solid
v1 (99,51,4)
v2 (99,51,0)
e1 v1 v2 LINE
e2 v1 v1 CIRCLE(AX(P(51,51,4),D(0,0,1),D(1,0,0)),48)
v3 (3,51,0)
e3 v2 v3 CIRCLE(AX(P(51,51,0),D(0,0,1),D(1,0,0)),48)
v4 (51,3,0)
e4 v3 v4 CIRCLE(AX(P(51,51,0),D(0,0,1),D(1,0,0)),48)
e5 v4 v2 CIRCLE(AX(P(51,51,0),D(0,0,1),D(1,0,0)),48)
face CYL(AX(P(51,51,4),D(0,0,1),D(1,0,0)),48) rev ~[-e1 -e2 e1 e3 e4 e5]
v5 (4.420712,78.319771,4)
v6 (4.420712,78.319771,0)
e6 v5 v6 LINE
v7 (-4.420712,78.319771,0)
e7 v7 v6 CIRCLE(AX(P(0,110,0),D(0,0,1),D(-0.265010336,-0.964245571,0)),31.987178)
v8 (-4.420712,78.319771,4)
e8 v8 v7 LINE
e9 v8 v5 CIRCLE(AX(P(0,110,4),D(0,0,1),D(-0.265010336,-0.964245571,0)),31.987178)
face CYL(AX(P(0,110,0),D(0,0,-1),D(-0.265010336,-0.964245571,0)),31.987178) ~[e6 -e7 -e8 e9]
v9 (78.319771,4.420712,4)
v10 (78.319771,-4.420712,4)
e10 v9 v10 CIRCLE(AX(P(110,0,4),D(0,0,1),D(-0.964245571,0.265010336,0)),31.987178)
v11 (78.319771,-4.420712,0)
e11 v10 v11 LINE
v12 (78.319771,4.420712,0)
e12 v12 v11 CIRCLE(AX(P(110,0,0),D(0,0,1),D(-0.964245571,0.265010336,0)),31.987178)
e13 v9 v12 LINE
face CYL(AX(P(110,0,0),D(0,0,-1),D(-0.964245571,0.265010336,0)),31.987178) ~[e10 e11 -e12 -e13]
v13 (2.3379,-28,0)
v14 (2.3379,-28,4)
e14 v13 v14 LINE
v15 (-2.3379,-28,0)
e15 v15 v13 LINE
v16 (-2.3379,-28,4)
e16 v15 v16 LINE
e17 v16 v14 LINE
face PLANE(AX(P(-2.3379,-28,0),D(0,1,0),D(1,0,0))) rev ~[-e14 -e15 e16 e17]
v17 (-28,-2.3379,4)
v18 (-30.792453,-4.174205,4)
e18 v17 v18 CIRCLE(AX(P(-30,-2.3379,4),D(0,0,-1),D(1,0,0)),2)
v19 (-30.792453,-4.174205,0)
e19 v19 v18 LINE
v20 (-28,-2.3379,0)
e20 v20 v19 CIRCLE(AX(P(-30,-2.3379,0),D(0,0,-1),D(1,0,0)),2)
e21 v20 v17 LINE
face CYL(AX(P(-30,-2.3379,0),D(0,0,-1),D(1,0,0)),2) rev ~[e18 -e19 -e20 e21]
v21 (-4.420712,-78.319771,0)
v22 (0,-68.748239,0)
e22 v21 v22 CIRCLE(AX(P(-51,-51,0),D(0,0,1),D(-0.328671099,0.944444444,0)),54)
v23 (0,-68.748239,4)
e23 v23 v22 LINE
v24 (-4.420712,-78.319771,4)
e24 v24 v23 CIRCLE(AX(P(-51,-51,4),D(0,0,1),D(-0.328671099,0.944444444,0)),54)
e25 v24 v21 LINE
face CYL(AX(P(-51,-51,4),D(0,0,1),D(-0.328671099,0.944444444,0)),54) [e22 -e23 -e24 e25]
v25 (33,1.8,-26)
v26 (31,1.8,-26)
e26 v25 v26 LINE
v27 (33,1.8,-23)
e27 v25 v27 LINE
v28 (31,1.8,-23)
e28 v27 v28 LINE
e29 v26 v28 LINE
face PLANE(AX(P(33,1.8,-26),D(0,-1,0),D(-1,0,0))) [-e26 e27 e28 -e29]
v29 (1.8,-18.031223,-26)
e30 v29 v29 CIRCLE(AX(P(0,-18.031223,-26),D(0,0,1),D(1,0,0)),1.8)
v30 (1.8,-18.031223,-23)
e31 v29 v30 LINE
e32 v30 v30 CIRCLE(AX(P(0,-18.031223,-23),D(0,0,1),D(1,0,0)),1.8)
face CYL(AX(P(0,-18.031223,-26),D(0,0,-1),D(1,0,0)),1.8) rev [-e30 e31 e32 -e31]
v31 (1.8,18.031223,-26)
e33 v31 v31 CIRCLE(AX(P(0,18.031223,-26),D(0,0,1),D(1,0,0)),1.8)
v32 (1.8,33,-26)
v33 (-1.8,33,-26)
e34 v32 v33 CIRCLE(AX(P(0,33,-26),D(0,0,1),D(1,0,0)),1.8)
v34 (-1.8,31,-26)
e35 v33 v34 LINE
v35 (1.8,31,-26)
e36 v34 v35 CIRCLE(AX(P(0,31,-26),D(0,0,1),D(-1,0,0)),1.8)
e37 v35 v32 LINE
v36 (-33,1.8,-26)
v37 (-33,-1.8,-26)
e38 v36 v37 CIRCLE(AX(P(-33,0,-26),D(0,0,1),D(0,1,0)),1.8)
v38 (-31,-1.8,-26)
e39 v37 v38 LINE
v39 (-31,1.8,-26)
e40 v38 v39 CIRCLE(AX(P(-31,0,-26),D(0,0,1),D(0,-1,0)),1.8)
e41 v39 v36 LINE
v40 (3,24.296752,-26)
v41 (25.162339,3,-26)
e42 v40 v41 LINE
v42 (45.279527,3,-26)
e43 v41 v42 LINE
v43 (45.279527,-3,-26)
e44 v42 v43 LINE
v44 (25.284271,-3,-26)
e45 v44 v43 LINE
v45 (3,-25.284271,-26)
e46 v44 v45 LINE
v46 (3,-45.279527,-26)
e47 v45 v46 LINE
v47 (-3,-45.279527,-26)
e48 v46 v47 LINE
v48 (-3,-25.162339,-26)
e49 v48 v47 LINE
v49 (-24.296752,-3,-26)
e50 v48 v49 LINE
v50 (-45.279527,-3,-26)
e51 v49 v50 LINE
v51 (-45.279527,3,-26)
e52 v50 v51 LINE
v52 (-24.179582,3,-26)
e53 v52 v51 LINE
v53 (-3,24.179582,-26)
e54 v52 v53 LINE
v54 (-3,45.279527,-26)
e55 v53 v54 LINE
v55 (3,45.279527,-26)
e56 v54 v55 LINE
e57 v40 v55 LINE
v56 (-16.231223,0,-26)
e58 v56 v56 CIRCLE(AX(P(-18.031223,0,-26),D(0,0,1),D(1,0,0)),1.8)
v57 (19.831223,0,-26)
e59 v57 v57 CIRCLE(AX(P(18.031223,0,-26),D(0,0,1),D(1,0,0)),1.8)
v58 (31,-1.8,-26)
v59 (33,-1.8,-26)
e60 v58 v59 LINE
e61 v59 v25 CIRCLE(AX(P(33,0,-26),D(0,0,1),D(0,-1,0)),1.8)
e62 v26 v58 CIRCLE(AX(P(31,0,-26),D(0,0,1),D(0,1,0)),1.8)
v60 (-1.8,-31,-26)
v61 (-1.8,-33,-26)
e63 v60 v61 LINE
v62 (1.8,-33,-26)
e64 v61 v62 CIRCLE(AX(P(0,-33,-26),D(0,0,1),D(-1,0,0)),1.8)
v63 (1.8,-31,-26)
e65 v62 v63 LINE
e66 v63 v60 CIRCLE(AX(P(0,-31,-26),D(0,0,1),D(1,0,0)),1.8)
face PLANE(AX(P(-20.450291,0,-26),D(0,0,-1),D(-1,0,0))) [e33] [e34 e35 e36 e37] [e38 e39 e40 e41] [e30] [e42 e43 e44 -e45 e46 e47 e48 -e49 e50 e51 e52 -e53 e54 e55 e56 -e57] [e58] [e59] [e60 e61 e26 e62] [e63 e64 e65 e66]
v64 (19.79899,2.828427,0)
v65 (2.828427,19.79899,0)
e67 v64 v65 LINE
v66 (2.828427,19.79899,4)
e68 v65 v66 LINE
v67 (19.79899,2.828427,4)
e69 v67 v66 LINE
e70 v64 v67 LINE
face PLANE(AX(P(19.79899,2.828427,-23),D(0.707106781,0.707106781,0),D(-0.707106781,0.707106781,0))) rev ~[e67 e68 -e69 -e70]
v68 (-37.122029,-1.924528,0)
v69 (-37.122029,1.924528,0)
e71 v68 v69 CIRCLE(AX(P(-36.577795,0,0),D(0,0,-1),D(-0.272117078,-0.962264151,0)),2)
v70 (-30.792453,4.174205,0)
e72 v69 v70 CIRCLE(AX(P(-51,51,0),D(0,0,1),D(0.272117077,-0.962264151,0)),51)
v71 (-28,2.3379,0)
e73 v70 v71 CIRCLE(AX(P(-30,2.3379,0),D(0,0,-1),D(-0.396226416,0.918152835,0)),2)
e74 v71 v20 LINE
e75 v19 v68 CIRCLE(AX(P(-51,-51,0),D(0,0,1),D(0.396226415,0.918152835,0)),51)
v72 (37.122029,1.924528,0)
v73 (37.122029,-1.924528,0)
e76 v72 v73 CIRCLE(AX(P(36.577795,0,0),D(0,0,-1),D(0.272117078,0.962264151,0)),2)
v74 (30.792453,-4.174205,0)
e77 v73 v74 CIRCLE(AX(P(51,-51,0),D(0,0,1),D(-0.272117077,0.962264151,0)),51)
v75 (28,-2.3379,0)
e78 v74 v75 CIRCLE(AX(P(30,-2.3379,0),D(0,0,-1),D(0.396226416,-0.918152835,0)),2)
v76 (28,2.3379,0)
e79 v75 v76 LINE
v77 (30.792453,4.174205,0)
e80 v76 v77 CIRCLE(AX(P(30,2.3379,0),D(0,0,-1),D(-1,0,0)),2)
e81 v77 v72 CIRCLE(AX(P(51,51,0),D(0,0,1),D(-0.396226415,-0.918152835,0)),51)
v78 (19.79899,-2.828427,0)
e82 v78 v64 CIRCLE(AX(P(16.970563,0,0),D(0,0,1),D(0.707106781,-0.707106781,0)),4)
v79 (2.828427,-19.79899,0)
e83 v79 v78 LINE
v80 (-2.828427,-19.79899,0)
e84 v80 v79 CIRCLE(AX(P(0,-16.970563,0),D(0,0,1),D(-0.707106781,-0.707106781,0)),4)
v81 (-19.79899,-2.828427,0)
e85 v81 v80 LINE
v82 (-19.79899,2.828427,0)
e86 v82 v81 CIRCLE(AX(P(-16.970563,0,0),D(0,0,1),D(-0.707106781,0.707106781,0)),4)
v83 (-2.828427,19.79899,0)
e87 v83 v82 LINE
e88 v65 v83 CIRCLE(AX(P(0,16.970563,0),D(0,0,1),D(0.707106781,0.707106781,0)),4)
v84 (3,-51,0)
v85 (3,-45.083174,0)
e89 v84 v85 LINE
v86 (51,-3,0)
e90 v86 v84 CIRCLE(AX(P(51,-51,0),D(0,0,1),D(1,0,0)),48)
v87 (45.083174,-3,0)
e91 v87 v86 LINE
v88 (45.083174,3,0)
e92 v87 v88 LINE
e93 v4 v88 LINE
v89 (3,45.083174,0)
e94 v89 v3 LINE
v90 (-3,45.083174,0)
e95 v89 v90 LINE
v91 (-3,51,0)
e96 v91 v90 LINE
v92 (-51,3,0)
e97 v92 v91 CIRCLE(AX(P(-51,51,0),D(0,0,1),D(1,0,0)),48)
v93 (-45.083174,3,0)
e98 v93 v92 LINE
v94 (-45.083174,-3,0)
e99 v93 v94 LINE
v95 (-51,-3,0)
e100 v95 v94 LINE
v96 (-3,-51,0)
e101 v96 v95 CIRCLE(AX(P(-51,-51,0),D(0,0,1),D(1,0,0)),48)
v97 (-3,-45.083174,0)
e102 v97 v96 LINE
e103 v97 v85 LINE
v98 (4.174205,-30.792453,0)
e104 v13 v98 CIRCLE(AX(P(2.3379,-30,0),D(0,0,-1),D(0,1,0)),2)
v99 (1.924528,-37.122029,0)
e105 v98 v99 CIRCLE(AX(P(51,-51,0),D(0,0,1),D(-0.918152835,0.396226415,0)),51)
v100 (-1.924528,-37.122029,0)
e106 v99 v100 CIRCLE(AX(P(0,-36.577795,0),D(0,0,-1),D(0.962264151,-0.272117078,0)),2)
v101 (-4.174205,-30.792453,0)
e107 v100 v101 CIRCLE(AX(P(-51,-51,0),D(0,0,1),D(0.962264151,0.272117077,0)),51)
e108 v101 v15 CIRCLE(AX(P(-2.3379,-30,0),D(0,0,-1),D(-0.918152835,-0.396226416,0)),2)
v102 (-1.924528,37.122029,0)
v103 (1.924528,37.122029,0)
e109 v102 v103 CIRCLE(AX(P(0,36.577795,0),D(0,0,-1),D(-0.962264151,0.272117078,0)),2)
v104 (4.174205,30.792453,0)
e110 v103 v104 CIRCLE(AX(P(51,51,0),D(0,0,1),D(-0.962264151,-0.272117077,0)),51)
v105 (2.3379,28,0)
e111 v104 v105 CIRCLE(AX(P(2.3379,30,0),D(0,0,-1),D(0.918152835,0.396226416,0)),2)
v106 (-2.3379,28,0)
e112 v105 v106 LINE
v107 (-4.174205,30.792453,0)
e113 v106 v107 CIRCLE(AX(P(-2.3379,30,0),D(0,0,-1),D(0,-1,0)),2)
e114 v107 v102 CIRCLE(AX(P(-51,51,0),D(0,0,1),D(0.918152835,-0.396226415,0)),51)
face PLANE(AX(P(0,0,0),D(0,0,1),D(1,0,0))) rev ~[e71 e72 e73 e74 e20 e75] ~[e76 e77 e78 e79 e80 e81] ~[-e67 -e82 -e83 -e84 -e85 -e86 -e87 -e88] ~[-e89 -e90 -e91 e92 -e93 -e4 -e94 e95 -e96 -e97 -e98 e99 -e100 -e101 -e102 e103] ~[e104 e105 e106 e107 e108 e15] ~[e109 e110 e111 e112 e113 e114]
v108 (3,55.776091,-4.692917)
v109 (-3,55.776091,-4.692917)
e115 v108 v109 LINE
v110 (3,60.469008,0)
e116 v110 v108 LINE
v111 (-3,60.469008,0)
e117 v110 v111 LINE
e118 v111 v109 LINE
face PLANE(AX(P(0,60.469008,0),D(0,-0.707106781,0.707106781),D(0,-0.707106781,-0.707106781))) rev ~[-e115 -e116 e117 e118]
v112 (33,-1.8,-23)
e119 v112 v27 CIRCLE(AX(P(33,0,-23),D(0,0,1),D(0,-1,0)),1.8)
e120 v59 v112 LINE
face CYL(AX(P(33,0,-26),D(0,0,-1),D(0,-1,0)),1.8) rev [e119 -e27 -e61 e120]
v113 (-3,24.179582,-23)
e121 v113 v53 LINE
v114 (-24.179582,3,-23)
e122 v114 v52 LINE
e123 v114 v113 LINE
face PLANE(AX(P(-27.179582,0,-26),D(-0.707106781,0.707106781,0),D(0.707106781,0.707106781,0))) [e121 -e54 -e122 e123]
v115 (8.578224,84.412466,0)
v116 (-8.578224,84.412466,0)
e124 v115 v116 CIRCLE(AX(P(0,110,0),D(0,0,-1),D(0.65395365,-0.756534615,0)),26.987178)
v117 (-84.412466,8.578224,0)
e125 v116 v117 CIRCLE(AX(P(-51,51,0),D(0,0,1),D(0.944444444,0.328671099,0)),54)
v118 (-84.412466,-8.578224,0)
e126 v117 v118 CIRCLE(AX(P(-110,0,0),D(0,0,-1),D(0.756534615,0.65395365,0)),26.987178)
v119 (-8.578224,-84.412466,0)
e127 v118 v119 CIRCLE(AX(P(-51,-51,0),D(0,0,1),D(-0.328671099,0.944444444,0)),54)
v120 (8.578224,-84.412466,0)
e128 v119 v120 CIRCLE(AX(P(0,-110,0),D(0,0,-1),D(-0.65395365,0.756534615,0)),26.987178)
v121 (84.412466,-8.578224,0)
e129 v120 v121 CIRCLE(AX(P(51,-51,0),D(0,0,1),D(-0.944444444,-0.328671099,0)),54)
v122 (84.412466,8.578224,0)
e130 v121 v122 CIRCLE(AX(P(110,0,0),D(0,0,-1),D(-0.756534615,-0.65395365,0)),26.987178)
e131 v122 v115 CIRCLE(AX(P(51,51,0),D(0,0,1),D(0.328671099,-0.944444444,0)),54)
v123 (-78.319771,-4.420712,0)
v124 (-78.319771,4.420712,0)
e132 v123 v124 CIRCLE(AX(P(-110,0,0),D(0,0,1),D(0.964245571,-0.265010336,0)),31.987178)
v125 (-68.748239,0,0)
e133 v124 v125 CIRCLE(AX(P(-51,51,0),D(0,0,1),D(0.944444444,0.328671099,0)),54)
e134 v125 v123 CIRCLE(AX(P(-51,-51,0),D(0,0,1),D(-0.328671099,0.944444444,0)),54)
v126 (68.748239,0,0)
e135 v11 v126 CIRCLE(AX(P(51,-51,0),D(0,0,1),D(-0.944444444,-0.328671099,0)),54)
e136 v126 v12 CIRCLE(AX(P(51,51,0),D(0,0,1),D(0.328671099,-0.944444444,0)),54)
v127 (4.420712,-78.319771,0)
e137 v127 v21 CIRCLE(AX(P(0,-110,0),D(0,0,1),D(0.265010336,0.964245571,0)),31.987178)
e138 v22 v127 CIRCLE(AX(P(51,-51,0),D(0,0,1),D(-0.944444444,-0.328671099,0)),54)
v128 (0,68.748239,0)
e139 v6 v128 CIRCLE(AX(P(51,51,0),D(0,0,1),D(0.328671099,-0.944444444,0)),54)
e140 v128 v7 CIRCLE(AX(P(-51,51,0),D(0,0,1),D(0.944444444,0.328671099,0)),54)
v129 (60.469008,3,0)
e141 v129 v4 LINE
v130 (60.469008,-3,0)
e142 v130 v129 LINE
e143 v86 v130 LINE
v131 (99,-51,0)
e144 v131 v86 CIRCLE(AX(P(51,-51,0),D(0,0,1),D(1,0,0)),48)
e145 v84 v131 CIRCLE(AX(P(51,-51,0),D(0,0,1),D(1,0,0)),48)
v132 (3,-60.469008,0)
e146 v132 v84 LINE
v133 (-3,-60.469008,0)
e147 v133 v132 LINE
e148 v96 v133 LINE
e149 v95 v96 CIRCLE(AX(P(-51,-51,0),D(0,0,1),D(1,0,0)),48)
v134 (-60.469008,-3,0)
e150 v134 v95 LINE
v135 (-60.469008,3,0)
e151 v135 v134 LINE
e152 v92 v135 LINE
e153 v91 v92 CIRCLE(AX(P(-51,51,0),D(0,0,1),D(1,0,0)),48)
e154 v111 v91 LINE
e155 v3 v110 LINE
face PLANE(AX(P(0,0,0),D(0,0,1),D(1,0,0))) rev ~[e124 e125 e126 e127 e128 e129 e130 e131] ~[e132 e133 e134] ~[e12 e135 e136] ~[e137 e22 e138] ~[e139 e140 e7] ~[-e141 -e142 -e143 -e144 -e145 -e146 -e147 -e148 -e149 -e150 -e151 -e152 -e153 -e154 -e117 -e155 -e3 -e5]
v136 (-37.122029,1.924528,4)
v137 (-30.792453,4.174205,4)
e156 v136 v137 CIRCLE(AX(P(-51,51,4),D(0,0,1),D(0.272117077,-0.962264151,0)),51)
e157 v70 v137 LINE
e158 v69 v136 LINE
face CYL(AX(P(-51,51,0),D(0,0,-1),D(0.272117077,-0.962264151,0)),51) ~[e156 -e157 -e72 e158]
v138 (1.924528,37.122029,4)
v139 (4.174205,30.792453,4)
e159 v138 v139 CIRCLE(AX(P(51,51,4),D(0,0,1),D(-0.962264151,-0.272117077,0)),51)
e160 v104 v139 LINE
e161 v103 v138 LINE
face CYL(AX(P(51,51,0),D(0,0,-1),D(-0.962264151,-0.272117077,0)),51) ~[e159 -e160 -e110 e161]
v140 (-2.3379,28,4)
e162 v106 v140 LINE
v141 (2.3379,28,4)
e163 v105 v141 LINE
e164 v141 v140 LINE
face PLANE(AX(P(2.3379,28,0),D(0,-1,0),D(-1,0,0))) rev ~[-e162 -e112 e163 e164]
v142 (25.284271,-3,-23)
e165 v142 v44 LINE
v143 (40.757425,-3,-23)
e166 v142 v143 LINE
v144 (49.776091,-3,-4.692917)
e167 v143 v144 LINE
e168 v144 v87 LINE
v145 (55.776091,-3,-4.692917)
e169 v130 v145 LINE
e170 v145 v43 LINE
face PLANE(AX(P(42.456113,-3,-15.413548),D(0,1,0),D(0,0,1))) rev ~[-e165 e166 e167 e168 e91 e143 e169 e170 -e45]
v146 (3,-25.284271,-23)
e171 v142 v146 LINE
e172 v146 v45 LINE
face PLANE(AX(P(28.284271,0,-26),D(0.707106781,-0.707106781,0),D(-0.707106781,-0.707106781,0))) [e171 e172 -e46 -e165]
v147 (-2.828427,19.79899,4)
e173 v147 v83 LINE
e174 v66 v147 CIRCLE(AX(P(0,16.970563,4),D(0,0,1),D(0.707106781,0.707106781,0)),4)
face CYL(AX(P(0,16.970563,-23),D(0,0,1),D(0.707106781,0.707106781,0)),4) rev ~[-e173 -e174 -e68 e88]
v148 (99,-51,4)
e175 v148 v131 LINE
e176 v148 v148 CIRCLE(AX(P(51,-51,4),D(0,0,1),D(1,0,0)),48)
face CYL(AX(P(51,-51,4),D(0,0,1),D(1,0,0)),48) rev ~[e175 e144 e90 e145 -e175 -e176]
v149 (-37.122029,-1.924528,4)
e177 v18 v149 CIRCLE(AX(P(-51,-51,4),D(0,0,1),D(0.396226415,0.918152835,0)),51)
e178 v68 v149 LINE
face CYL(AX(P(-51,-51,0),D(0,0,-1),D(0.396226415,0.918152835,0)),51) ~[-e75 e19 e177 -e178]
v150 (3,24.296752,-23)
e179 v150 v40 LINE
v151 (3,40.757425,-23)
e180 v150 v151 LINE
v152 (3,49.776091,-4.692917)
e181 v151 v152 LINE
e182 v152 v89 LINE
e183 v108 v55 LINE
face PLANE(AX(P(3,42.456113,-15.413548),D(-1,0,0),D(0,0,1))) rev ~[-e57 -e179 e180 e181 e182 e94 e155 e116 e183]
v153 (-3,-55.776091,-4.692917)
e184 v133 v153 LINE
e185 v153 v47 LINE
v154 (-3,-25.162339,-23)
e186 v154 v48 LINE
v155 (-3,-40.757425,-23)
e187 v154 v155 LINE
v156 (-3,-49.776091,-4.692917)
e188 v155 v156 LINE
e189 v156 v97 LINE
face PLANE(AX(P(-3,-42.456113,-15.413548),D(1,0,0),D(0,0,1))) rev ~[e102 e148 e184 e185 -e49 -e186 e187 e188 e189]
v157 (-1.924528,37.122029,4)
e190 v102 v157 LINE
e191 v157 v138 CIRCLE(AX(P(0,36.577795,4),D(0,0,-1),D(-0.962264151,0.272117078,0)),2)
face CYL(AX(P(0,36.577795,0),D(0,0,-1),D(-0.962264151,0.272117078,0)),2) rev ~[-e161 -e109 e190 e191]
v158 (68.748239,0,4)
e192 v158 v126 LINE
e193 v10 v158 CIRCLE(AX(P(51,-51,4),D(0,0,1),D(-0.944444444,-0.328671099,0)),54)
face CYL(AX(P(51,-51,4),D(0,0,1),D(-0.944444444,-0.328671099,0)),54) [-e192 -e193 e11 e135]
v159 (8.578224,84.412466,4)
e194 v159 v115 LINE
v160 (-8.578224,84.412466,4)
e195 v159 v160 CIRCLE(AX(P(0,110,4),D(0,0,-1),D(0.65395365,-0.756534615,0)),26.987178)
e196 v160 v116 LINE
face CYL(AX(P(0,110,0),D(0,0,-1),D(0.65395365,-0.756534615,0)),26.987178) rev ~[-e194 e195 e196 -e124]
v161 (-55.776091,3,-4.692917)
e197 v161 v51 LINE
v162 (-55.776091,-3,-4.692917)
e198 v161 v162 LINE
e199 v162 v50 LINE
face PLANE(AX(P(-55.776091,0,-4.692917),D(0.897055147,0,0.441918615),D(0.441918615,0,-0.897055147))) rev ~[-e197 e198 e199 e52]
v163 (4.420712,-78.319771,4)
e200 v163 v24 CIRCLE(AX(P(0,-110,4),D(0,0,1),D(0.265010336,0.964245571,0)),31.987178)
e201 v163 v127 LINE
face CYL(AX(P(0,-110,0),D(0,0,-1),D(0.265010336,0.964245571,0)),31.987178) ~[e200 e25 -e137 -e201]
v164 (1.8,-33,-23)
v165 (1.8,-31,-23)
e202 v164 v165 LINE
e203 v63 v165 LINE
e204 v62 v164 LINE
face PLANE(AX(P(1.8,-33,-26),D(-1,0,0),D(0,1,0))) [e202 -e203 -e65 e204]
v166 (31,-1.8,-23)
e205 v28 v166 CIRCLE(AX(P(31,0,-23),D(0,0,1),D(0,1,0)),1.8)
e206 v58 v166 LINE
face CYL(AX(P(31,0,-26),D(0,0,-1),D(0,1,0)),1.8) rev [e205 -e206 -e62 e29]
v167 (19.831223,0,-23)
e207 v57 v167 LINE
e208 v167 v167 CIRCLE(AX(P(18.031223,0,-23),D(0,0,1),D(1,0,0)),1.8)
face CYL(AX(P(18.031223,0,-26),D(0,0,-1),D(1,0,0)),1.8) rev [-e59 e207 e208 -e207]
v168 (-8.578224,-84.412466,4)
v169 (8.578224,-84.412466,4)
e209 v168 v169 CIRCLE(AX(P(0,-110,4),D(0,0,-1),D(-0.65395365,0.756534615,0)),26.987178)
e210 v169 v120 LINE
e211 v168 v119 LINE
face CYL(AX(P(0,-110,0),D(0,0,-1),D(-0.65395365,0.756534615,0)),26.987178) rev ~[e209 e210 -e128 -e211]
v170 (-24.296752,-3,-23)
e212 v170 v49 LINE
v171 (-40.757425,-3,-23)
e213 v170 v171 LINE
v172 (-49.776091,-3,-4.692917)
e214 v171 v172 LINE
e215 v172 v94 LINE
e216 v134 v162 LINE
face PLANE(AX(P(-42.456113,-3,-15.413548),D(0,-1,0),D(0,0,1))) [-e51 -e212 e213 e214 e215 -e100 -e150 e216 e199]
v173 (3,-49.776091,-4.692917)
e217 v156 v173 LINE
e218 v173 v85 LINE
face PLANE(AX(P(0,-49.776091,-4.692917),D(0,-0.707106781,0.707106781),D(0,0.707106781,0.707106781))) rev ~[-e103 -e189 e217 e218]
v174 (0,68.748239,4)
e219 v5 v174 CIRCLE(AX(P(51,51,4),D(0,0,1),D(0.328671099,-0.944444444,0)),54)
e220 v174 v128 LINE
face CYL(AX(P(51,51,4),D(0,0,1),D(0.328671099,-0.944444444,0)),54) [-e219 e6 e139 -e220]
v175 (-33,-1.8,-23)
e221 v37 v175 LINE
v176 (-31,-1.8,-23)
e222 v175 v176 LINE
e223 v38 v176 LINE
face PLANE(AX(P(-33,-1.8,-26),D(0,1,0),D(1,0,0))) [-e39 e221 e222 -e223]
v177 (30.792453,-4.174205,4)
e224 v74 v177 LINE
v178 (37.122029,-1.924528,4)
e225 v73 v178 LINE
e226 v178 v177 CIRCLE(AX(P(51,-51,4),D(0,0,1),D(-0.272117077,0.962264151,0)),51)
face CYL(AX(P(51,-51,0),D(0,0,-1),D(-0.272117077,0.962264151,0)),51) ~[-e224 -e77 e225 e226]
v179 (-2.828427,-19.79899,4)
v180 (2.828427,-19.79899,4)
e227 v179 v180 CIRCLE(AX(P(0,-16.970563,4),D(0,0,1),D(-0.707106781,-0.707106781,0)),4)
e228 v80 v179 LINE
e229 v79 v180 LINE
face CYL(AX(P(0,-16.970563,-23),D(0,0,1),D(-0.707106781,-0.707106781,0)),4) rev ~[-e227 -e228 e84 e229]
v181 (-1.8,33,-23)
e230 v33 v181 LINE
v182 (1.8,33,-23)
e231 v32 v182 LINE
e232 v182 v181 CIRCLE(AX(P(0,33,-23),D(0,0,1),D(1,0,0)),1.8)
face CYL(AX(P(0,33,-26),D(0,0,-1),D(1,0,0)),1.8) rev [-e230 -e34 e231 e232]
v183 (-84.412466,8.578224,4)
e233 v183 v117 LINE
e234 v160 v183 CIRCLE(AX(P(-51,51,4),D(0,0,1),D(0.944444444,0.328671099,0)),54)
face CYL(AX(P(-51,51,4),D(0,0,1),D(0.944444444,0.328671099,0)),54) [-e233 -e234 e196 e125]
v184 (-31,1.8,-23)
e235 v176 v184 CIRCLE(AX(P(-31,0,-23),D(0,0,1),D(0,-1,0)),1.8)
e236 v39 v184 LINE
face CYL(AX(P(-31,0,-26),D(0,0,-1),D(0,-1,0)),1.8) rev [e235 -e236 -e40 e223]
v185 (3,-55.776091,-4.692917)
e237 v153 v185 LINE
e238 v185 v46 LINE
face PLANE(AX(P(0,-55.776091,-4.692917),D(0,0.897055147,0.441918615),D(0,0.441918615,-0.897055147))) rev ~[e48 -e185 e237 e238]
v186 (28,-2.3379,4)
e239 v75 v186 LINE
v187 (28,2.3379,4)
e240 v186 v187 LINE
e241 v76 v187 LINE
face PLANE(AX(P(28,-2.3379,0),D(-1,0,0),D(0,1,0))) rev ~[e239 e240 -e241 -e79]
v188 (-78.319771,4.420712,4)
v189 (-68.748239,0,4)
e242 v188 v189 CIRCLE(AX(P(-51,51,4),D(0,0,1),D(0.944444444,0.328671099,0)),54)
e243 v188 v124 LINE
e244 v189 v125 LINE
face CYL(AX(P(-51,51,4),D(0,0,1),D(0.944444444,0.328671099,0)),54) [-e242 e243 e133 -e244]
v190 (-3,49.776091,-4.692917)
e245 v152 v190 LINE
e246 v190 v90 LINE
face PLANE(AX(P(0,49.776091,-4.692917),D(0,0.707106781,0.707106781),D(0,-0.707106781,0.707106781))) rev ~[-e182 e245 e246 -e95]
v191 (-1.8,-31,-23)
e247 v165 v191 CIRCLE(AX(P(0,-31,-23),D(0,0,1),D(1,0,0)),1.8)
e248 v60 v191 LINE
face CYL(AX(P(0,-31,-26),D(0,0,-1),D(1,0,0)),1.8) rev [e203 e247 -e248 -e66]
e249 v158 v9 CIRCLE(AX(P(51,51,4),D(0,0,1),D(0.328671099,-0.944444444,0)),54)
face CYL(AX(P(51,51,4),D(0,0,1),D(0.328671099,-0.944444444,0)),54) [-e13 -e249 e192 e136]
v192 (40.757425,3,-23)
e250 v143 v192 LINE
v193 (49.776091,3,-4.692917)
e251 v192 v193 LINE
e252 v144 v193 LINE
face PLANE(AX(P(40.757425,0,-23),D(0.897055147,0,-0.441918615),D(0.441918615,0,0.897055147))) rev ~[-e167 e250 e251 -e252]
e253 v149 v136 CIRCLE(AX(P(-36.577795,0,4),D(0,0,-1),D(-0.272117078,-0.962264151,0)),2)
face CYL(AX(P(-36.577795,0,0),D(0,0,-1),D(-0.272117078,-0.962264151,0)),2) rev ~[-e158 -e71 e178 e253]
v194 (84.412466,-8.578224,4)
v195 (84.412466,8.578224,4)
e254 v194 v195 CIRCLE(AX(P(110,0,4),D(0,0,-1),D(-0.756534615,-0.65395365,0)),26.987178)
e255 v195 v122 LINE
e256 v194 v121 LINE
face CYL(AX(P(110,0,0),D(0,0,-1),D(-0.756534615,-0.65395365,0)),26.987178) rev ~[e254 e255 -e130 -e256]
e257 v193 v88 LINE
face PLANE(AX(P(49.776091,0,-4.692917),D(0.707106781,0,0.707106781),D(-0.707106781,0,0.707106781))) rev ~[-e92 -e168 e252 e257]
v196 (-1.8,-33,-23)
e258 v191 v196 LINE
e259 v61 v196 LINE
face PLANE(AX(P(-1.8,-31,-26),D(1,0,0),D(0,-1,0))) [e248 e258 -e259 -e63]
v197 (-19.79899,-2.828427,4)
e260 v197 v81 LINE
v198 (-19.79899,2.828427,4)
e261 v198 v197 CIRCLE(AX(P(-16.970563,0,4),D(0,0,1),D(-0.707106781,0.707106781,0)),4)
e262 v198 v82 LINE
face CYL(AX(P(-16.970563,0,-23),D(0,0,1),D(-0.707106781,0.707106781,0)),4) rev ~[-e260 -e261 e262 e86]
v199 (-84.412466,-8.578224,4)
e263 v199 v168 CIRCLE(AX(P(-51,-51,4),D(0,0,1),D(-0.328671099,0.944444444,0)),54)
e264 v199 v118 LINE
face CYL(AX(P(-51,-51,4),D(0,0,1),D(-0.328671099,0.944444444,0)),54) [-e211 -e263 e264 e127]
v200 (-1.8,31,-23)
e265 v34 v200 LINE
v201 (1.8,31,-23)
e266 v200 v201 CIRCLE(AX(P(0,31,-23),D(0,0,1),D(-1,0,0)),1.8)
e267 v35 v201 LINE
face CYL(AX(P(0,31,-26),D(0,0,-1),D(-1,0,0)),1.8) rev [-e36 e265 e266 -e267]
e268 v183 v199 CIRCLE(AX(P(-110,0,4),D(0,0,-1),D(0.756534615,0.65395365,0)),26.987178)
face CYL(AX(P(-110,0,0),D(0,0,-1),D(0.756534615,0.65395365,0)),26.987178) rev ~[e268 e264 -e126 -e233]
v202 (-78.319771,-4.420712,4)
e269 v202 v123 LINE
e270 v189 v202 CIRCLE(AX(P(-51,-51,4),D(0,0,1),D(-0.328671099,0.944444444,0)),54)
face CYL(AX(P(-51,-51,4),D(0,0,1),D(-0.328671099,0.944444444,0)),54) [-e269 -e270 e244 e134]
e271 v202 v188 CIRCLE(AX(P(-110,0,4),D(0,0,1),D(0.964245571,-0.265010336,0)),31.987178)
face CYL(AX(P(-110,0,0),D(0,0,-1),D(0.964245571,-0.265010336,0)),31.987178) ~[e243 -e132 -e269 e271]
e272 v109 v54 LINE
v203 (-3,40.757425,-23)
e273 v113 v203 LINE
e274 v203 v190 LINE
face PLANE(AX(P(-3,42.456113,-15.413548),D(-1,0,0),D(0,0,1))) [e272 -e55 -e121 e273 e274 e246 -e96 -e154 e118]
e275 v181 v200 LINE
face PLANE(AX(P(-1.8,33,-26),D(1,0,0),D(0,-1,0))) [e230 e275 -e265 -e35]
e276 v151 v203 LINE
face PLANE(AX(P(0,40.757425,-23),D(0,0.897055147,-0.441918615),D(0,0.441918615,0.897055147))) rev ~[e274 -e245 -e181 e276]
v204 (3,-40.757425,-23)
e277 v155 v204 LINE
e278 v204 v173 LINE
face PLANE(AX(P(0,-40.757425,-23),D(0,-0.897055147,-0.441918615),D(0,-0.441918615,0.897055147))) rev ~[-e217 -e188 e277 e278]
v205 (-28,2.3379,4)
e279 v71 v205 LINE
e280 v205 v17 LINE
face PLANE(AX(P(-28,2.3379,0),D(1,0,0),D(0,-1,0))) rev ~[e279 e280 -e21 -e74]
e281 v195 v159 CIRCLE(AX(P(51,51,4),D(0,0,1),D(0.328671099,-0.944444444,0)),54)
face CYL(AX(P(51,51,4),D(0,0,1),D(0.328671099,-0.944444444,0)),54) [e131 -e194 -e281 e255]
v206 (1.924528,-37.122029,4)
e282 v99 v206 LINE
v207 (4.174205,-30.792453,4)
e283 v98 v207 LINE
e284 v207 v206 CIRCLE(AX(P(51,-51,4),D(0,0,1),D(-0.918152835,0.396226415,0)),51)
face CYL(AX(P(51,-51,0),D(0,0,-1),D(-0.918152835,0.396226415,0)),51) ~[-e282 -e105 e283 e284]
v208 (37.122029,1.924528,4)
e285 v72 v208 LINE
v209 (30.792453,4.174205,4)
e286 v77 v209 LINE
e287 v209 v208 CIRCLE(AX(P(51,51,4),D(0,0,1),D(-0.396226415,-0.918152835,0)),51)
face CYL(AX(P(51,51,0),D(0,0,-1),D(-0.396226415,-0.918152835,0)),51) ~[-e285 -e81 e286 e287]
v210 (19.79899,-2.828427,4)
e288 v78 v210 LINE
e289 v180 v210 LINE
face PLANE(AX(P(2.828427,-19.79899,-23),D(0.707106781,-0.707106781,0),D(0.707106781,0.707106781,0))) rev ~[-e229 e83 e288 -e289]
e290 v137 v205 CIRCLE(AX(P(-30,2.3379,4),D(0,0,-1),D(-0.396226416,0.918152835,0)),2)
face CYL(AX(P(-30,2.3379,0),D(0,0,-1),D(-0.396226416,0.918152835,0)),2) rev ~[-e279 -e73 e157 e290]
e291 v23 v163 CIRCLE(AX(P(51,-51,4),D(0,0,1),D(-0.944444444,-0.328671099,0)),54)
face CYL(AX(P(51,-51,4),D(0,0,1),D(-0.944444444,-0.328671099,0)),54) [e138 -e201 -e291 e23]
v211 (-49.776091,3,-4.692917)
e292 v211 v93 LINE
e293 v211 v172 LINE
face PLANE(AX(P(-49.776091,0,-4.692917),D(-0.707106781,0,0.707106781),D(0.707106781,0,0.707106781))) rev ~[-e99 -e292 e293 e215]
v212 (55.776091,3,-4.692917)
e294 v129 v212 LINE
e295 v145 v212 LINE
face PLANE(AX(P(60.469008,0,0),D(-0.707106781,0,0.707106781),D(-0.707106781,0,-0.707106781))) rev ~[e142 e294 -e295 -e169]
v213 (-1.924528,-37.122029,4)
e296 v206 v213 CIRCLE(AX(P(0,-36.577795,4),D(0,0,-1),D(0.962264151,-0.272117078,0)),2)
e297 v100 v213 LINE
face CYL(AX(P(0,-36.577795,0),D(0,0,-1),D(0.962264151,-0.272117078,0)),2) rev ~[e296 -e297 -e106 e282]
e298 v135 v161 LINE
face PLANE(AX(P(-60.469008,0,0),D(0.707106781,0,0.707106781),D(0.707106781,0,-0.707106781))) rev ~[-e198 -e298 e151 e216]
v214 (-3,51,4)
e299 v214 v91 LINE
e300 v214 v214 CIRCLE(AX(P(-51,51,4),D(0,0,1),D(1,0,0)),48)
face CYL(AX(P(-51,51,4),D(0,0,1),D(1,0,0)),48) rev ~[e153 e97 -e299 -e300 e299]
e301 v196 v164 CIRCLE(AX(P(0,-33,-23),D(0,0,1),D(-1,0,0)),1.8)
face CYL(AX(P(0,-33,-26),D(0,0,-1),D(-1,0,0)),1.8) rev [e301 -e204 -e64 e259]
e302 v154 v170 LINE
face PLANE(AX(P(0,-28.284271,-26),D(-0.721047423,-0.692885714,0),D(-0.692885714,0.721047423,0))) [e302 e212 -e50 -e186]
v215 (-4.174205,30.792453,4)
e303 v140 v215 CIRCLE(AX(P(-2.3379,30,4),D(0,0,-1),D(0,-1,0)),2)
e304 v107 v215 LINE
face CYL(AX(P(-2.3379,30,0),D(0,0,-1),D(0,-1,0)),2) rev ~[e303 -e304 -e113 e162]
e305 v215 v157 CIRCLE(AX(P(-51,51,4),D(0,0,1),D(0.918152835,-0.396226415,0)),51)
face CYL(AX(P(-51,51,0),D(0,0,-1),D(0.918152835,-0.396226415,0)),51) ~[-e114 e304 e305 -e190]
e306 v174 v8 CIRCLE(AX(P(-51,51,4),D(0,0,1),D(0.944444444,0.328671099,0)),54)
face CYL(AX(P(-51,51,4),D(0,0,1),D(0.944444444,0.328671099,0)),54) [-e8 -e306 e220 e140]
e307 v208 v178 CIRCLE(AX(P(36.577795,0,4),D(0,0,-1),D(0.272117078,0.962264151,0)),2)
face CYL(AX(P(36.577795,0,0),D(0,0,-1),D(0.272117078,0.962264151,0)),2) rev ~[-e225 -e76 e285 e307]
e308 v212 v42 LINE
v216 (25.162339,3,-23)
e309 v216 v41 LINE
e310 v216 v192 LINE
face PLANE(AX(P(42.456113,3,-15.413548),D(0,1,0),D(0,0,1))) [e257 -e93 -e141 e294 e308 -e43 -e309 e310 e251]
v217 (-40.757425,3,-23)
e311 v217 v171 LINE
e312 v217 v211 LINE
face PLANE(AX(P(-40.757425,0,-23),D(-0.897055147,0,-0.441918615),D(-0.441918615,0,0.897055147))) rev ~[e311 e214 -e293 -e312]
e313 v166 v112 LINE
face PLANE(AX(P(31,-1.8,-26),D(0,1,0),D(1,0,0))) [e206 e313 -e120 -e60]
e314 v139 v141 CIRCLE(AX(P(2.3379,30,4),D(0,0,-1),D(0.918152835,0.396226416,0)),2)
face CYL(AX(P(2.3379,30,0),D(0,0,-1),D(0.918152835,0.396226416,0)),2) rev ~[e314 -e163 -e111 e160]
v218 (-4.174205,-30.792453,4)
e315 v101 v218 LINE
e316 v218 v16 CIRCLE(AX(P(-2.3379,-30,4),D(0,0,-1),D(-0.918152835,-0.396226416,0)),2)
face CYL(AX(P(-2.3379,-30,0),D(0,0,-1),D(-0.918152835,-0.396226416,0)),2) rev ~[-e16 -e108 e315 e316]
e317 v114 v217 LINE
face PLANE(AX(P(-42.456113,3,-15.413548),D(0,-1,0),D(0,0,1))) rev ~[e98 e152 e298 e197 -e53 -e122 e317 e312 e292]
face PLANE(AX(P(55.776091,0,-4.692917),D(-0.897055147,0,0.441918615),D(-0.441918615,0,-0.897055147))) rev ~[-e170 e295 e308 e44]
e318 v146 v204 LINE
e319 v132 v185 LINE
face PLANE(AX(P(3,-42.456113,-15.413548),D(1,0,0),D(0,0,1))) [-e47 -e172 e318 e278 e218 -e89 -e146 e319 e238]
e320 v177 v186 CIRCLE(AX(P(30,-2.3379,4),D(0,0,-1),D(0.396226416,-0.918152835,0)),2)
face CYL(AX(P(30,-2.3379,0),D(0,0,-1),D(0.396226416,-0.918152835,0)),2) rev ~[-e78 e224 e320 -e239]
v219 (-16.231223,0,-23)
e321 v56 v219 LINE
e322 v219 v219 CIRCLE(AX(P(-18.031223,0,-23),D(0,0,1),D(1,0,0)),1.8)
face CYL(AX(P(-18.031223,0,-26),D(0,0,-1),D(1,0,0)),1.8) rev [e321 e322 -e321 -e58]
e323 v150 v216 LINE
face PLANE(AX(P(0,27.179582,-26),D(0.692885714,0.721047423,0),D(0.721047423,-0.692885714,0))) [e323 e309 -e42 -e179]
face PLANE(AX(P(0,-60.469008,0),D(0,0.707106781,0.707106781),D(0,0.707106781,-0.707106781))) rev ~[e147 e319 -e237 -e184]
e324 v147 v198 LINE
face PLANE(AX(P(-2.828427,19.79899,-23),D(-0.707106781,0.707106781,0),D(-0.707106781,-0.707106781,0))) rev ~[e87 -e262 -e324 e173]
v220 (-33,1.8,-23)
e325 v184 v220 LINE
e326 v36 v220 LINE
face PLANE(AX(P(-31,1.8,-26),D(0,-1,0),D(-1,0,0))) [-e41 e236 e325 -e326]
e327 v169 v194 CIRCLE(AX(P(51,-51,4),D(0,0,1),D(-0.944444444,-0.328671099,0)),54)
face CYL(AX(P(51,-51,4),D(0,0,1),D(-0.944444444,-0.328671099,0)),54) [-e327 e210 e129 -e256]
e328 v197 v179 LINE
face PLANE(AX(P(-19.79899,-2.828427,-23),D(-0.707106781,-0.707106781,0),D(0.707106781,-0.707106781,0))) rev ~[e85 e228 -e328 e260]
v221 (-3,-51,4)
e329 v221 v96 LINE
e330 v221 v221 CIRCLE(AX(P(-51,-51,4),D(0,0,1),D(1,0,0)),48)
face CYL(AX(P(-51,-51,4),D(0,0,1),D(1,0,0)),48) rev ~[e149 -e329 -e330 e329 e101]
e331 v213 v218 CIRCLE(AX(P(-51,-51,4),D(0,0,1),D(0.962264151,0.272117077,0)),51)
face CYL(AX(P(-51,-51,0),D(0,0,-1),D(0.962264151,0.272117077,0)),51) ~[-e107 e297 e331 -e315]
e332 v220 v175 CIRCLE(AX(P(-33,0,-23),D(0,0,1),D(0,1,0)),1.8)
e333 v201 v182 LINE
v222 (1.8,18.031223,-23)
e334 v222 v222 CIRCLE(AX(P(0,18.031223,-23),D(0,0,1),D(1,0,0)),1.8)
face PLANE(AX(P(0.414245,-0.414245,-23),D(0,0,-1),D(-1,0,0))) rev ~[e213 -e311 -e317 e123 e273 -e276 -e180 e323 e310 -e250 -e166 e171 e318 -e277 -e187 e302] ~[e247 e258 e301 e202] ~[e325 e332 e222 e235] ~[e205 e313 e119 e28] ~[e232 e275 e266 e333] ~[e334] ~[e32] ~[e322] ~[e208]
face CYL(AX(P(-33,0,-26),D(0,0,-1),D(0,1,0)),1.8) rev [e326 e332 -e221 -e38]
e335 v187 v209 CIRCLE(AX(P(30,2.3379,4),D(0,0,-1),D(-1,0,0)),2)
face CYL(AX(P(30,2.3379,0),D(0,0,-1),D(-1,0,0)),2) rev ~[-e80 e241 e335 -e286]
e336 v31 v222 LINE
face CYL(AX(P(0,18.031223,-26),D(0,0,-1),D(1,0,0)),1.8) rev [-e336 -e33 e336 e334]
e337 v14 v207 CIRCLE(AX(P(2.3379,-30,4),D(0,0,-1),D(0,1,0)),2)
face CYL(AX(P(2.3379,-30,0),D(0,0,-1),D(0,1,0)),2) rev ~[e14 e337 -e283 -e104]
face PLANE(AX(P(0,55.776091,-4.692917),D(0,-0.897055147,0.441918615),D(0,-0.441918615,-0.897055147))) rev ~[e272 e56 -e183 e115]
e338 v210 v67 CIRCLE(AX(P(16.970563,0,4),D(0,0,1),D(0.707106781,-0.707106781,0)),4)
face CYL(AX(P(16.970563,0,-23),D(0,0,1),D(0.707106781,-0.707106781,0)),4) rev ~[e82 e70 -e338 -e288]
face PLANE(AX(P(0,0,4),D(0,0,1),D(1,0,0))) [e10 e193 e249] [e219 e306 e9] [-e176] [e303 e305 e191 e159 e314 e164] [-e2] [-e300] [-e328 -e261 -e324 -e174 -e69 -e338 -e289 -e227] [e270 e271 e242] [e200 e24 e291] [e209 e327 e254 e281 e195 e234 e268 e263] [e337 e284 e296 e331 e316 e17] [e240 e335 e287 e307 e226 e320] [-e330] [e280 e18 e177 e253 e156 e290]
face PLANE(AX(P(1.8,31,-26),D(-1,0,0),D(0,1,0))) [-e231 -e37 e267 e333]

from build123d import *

# Parameters (mm, degrees)
SKETCH_1_R               = 46
SKETCH_1_R_2             = 1.8
EXTRUDE_1_DEPTH          = 4
SKETCH_4_R               = 1.8
EXTRUDE_2_DEPTH          = 3
EXTRUDE_3_DEPTH          = 3
PATTERN_CIRCULAR_1_COUNT = 4
CUT_EXTRUDE_3_DEPTH      = 30
CUT_EXTRUDE_4_DEPTH      = 3
PATTERN_CIRCULAR_2_COUNT = 4
SKETCH_22_W              = 3
SKETCH_22_H              = 3
EXTRUDE_6_DEPTH          = 1
PATTERN_CIRCULAR_8_COUNT = 4
EXTRUDE_7_DEPTH          = 4
SKETCH_25_R              = 48
CUT_EXTRUDE_5_DEPTH      = 4


with BuildPart() as part:
    # 草图1 → 凸台-拉伸1 (new body)
    with BuildSketch(Plane.XY):
        with BuildLine():
            ThreePointArc((-17.648363843, -89.583265358), (0, -83.012821567), (17.648363843, -89.583265358))
            ThreePointArc((17.648363843, -89.583265358), (87.062445841, -87.062445841), (89.583265358, -17.648363843))
            ThreePointArc((89.583265358, -17.648363843), (83.012821567, 0), (89.583265358, 17.648363843))
            ThreePointArc((89.583265358, 17.648363843), (87.062445841, 87.062445841), (17.648363843, 89.583265358))
            ThreePointArc((17.648363843, 89.583265358), (0, 83.012821567), (-17.648363843, 89.583265358))
            ThreePointArc((-17.648363843, 89.583265358), (-87.062445841, 87.062445841), (-89.583265358, 17.648363843))
            ThreePointArc((-89.583265358, 17.648363843), (-83.012821567, 0), (-89.583265358, -17.648363843))
            ThreePointArc((-89.583265358, -17.648363843), (-87.062445841, -87.062445841), (-17.648363843, -89.583265358))
        make_face()
        with Locations((51, -51)):
            Circle(SKETCH_1_R, mode=Mode.SUBTRACT)
        with Locations((-51, -51)):
            Circle(SKETCH_1_R, mode=Mode.SUBTRACT)
        with BuildLine():
            ThreePointArc((-51, 0), (-65.702441614, -2.165194681), (-79.15650486, -8.476932918))
            ThreePointArc((-79.15650486, -8.476932918), (-78.012821567, 0), (-79.15650486, 8.476932918))
            ThreePointArc((-79.15650486, 8.476932918), (-65.702441614, 2.165194681), (-51, 0))
        make_face(mode=Mode.SUBTRACT)
        with Locations((-18.03122292, 0)):
            Circle(SKETCH_1_R_2, mode=Mode.SUBTRACT)
        with BuildLine():
            ThreePointArc((0, -51), (2.165194681, -65.702441614), (8.476932918, -79.15650486))
            ThreePointArc((8.476932918, -79.15650486), (0, -78.012821567), (-8.476932918, -79.15650486))
            ThreePointArc((-8.476932918, -79.15650486), (-2.165194681, -65.702441614), (0, -51))
        make_face(mode=Mode.SUBTRACT)
        with BuildLine():
            Line((-2.337899758, -28), (2.337899758, -28))
            ThreePointArc((2.337899758, -28), (4.008963141, -28.901115488), (4.174205427, -30.79245283))
            ThreePointArc((4.174205427, -30.79245283), (2.945040819, -33.920161063), (1.924528302, -37.122029053))
            ThreePointArc((1.924528302, -37.122029053), (0, -38.577794898), (-1.924528302, -37.122029053))
            ThreePointArc((-1.924528302, -37.122029053), (-2.945040819, -33.920161063), (-4.174205427, -30.79245283))
            ThreePointArc((-4.174205427, -30.79245283), (-4.008963141, -28.901115488), (-2.337899758, -28))
        make_face(mode=Mode.SUBTRACT)
        with Locations((0, -18.03122292)):
            Circle(SKETCH_1_R_2, mode=Mode.SUBTRACT)
        Polygon((9.899494937, 0), (0, -9.899494937), (-9.899494937, 0), (0, 9.899494937), align=None, mode=Mode.SUBTRACT)
        with Locations((18.03122292, 0)):
            Circle(SKETCH_1_R_2, mode=Mode.SUBTRACT)
        with BuildLine():
            Line((28, -2.337899758), (28, 2.337899758))
            ThreePointArc((28, 2.337899758), (28.901115488, 4.008963141), (30.79245283, 4.174205427))
            ThreePointArc((30.79245283, 4.174205427), (33.920161063, 2.945040819), (37.122029053, 1.924528302))
            ThreePointArc((37.122029053, 1.924528302), (38.577794898, 0), (37.122029053, -1.924528302))
            ThreePointArc((37.122029053, -1.924528302), (33.920161063, -2.945040819), (30.79245283, -4.174205427))
            ThreePointArc((30.79245283, -4.174205427), (28.901115488, -4.008963141), (28, -2.337899758))
        make_face(mode=Mode.SUBTRACT)
        with BuildLine():
            Line((-28, 2.337899758), (-28, -2.337899758))
            ThreePointArc((-28, -2.337899758), (-28.901115488, -4.008963141), (-30.79245283, -4.174205427))
            ThreePointArc((-30.79245283, -4.174205427), (-33.920161063, -2.945040819), (-37.122029053, -1.924528302))
            ThreePointArc((-37.122029053, -1.924528302), (-38.577794898, 0), (-37.122029053, 1.924528302))
            ThreePointArc((-37.122029053, 1.924528302), (-33.920161063, 2.945040819), (-30.79245283, 4.174205427))
            ThreePointArc((-30.79245283, 4.174205427), (-28.901115488, 4.008963141), (-28, 2.337899758))
        make_face(mode=Mode.SUBTRACT)
        with Locations((-51, 51)):
            Circle(SKETCH_1_R, mode=Mode.SUBTRACT)
        with Locations((0, 18.03122292)):
            Circle(SKETCH_1_R_2, mode=Mode.SUBTRACT)
        with BuildLine():
            ThreePointArc((1.924528302, 37.122029053), (2.945040819, 33.920161063), (4.174205427, 30.79245283))
            ThreePointArc((4.174205427, 30.79245283), (4.008963141, 28.901115488), (2.337899758, 28))
            Line((2.337899758, 28), (-2.337899758, 28))
            ThreePointArc((-2.337899758, 28), (-4.008963141, 28.901115488), (-4.174205427, 30.79245283))
            ThreePointArc((-4.174205427, 30.79245283), (-2.945040819, 33.920161063), (-1.924528302, 37.122029053))
            ThreePointArc((-1.924528302, 37.122029053), (0, 38.577794898), (1.924528302, 37.122029053))
        make_face(mode=Mode.SUBTRACT)
        with BuildLine():
            ThreePointArc((79.15650486, 8.476932918), (78.012821567, 0), (79.15650486, -8.476932918))
            ThreePointArc((79.15650486, -8.476932918), (65.702441614, -2.165194681), (51, 0))
            ThreePointArc((51, 0), (65.702441614, 2.165194681), (79.15650486, 8.476932918))
        make_face(mode=Mode.SUBTRACT)
        with BuildLine():
            ThreePointArc((-8.476932918, 79.15650486), (0, 78.012821567), (8.476932918, 79.15650486))
            ThreePointArc((8.476932918, 79.15650486), (2.165194681, 65.702441614), (0, 51))
            ThreePointArc((0, 51), (-2.165194681, 65.702441614), (-8.476932918, 79.15650486))
        make_face(mode=Mode.SUBTRACT)
        with Locations((51, 51)):
            Circle(SKETCH_1_R, mode=Mode.SUBTRACT)
    extrude(amount=EXTRUDE_1_DEPTH)

    # 草图8 → 凸台-拉伸3 (add, symmetric)
    with BuildSketch(Plane(origin=(0, 0, 0), x_dir=(0, 0, -1), z_dir=(1, 0, 0))):
        Polygon((23, 20.450291093), (23, 40.757425202), (4.692917013, 49.776091208), (0, 45.083174196), (0, 60.469008221), (4.692917013, 55.776091208), (26, 45.279527383), (26, 43.279527383), (26, 20.450291093), align=None)
    extrude_3 = extrude(amount=EXTRUDE_3_DEPTH, both=True)

    # 阵列(圆周)1: 凸台-拉伸3 ×4 about axis
    pattern_circular_1_axis = Axis((0, 0, 0), (0, 0, 1))
    for i in range(1, PATTERN_CIRCULAR_1_COUNT):
        add(extrude_3.rotate(pattern_circular_1_axis, i * 360 / PATTERN_CIRCULAR_1_COUNT))

    # 草图12 → 切除-拉伸3 (cut, symmetric)
    with BuildSketch(Plane.XY.offset(-23)):
        with BuildLine():
            Line((-19.798989873, -2.828427125), (-2.828427125, -19.798989873))
            ThreePointArc((-2.828427125, -19.798989873), (0, -20.970562748), (2.828427125, -19.798989873))
            Line((2.828427125, -19.798989873), (19.798989873, -2.828427125))
            ThreePointArc((19.798989873, -2.828427125), (20.970562748, 0), (19.798989873, 2.828427125))
            Line((19.798989873, 2.828427125), (2.828427125, 19.798989873))
            ThreePointArc((2.828427125, 19.798989873), (0, 20.970562748), (-2.828427125, 19.798989873))
            Line((-2.828427125, 19.798989873), (-19.798989873, 2.828427125))
            ThreePointArc((-19.798989873, 2.828427125), (-20.970562748, 0), (-19.798989873, -2.828427125))
        make_face()
    extrude(amount=CUT_EXTRUDE_3_DEPTH, both=True, mode=Mode.SUBTRACT)

    # 草图13 → 切除-拉伸4 (cut)
    with BuildSketch(Plane(origin=(0, 0, -26), x_dir=(-1, 0, 0), z_dir=(0, 0, -1))):
        with BuildLine():
            Line((1.8, 33), (1.8, 31))
            ThreePointArc((1.8, 31), (0, 29.2), (-1.8, 31))
            Line((-1.8, 31), (-1.8, 33))
            ThreePointArc((-1.8, 33), (0, 34.8), (1.8, 33))
        make_face()
    cut_extrude_4 = extrude(amount=-CUT_EXTRUDE_4_DEPTH, mode=Mode.SUBTRACT)

    # 阵列(圆周)2: 切除-拉伸4 ×4 about axis
    pattern_circular_2_axis = Axis((0, 0, 0), (0, 0, 1))
    for i in range(1, PATTERN_CIRCULAR_2_COUNT):
        add(cut_extrude_4.rotate(pattern_circular_2_axis, i * 360 / PATTERN_CIRCULAR_2_COUNT), mode=Mode.SUBTRACT)



with BuildPart() as body_2:
    # 草图4 → 凸台-拉伸2 (new body)
    with BuildSketch(Plane.XY.offset(-26)):
        Polygon((-27.179581891, 0), (0, 27.179581891), (28.284271247, 0), (0, -28.284271247), align=None)
        with Locations((0, 18.03122292)):
            Circle(SKETCH_4_R, mode=Mode.SUBTRACT)
        with Locations((18.03122292, 0)):
            Circle(SKETCH_4_R, mode=Mode.SUBTRACT)
        with Locations((0, -18.03122292)):
            Circle(SKETCH_4_R, mode=Mode.SUBTRACT)
        with Locations((-18.03122292, 0)):
            Circle(SKETCH_4_R, mode=Mode.SUBTRACT)
    extrude(amount=EXTRUDE_2_DEPTH)


with BuildPart() as part_1:
    add(part.part)

    add(body_2.part)  # 凸台-拉伸6 merges body 2
    # 草图22 → 凸台-拉伸6 (add)
    with BuildSketch(Plane.ZY.offset(3)):
        with Locations((-24.5, 25.679581891)):
            Rectangle(SKETCH_22_W, SKETCH_22_H)
    extrude_6 = extrude(amount=-EXTRUDE_6_DEPTH)

    # 阵列(圆周)8: 凸台-拉伸6 ×4 about axis
    pattern_circular_8_axis = Axis((0, 0, 0), (0, 0, -1))
    for i in range(1, PATTERN_CIRCULAR_8_COUNT):
        add(extrude_6.rotate(pattern_circular_8_axis, i * 360 / PATTERN_CIRCULAR_8_COUNT))

    # 草图24 → 凸台-拉伸7 (add)
    with BuildSketch(Plane.XY.offset(4)):
        with BuildLine():
            ThreePointArc((-68.748239349, 0), (-89.183766184, -89.183766184), (0, -68.748239349))
            ThreePointArc((0, -68.748239349), (89.183766184, -89.183766184), (68.748239349, 0))
            ThreePointArc((68.748239349, 0), (89.183766184, 89.183766184), (0, 68.748239349))
            ThreePointArc((0, 68.748239349), (-89.183766184, 89.183766184), (-68.748239349, 0))
        make_face()
        with BuildLine():
            Line((-5, 51), (5, 51))
            ThreePointArc((5, 51), (83.526911935, 83.526911935), (51, 5))
            Line((51, 5), (51, -5))
            ThreePointArc((51, -5), (83.526911935, -83.526911935), (5, -51))
            Line((5, -51), (-5, -51))
            ThreePointArc((-5, -51), (-83.526911935, -83.526911935), (-51, -5))
            Line((-51, -5), (-51, 5))
            ThreePointArc((-51, 5), (-83.526911935, 83.526911935), (-5, 51))
        make_face(mode=Mode.SUBTRACT)
    extrude(amount=-EXTRUDE_7_DEPTH)

    # 草图25 → 切除-拉伸5 (cut)
    with BuildSketch(Plane.XY.offset(4)):
        with Locations((51, 51)):
            Circle(SKETCH_25_R)
        with Locations((51, -51)):
            Circle(SKETCH_25_R)
        with Locations((-51, -51)):
            Circle(SKETCH_25_R)
        with Locations((-51, 51)):
            Circle(SKETCH_25_R)
    extrude(amount=-CUT_EXTRUDE_5_DEPTH, mode=Mode.SUBTRACT)


solid = part_1.part
